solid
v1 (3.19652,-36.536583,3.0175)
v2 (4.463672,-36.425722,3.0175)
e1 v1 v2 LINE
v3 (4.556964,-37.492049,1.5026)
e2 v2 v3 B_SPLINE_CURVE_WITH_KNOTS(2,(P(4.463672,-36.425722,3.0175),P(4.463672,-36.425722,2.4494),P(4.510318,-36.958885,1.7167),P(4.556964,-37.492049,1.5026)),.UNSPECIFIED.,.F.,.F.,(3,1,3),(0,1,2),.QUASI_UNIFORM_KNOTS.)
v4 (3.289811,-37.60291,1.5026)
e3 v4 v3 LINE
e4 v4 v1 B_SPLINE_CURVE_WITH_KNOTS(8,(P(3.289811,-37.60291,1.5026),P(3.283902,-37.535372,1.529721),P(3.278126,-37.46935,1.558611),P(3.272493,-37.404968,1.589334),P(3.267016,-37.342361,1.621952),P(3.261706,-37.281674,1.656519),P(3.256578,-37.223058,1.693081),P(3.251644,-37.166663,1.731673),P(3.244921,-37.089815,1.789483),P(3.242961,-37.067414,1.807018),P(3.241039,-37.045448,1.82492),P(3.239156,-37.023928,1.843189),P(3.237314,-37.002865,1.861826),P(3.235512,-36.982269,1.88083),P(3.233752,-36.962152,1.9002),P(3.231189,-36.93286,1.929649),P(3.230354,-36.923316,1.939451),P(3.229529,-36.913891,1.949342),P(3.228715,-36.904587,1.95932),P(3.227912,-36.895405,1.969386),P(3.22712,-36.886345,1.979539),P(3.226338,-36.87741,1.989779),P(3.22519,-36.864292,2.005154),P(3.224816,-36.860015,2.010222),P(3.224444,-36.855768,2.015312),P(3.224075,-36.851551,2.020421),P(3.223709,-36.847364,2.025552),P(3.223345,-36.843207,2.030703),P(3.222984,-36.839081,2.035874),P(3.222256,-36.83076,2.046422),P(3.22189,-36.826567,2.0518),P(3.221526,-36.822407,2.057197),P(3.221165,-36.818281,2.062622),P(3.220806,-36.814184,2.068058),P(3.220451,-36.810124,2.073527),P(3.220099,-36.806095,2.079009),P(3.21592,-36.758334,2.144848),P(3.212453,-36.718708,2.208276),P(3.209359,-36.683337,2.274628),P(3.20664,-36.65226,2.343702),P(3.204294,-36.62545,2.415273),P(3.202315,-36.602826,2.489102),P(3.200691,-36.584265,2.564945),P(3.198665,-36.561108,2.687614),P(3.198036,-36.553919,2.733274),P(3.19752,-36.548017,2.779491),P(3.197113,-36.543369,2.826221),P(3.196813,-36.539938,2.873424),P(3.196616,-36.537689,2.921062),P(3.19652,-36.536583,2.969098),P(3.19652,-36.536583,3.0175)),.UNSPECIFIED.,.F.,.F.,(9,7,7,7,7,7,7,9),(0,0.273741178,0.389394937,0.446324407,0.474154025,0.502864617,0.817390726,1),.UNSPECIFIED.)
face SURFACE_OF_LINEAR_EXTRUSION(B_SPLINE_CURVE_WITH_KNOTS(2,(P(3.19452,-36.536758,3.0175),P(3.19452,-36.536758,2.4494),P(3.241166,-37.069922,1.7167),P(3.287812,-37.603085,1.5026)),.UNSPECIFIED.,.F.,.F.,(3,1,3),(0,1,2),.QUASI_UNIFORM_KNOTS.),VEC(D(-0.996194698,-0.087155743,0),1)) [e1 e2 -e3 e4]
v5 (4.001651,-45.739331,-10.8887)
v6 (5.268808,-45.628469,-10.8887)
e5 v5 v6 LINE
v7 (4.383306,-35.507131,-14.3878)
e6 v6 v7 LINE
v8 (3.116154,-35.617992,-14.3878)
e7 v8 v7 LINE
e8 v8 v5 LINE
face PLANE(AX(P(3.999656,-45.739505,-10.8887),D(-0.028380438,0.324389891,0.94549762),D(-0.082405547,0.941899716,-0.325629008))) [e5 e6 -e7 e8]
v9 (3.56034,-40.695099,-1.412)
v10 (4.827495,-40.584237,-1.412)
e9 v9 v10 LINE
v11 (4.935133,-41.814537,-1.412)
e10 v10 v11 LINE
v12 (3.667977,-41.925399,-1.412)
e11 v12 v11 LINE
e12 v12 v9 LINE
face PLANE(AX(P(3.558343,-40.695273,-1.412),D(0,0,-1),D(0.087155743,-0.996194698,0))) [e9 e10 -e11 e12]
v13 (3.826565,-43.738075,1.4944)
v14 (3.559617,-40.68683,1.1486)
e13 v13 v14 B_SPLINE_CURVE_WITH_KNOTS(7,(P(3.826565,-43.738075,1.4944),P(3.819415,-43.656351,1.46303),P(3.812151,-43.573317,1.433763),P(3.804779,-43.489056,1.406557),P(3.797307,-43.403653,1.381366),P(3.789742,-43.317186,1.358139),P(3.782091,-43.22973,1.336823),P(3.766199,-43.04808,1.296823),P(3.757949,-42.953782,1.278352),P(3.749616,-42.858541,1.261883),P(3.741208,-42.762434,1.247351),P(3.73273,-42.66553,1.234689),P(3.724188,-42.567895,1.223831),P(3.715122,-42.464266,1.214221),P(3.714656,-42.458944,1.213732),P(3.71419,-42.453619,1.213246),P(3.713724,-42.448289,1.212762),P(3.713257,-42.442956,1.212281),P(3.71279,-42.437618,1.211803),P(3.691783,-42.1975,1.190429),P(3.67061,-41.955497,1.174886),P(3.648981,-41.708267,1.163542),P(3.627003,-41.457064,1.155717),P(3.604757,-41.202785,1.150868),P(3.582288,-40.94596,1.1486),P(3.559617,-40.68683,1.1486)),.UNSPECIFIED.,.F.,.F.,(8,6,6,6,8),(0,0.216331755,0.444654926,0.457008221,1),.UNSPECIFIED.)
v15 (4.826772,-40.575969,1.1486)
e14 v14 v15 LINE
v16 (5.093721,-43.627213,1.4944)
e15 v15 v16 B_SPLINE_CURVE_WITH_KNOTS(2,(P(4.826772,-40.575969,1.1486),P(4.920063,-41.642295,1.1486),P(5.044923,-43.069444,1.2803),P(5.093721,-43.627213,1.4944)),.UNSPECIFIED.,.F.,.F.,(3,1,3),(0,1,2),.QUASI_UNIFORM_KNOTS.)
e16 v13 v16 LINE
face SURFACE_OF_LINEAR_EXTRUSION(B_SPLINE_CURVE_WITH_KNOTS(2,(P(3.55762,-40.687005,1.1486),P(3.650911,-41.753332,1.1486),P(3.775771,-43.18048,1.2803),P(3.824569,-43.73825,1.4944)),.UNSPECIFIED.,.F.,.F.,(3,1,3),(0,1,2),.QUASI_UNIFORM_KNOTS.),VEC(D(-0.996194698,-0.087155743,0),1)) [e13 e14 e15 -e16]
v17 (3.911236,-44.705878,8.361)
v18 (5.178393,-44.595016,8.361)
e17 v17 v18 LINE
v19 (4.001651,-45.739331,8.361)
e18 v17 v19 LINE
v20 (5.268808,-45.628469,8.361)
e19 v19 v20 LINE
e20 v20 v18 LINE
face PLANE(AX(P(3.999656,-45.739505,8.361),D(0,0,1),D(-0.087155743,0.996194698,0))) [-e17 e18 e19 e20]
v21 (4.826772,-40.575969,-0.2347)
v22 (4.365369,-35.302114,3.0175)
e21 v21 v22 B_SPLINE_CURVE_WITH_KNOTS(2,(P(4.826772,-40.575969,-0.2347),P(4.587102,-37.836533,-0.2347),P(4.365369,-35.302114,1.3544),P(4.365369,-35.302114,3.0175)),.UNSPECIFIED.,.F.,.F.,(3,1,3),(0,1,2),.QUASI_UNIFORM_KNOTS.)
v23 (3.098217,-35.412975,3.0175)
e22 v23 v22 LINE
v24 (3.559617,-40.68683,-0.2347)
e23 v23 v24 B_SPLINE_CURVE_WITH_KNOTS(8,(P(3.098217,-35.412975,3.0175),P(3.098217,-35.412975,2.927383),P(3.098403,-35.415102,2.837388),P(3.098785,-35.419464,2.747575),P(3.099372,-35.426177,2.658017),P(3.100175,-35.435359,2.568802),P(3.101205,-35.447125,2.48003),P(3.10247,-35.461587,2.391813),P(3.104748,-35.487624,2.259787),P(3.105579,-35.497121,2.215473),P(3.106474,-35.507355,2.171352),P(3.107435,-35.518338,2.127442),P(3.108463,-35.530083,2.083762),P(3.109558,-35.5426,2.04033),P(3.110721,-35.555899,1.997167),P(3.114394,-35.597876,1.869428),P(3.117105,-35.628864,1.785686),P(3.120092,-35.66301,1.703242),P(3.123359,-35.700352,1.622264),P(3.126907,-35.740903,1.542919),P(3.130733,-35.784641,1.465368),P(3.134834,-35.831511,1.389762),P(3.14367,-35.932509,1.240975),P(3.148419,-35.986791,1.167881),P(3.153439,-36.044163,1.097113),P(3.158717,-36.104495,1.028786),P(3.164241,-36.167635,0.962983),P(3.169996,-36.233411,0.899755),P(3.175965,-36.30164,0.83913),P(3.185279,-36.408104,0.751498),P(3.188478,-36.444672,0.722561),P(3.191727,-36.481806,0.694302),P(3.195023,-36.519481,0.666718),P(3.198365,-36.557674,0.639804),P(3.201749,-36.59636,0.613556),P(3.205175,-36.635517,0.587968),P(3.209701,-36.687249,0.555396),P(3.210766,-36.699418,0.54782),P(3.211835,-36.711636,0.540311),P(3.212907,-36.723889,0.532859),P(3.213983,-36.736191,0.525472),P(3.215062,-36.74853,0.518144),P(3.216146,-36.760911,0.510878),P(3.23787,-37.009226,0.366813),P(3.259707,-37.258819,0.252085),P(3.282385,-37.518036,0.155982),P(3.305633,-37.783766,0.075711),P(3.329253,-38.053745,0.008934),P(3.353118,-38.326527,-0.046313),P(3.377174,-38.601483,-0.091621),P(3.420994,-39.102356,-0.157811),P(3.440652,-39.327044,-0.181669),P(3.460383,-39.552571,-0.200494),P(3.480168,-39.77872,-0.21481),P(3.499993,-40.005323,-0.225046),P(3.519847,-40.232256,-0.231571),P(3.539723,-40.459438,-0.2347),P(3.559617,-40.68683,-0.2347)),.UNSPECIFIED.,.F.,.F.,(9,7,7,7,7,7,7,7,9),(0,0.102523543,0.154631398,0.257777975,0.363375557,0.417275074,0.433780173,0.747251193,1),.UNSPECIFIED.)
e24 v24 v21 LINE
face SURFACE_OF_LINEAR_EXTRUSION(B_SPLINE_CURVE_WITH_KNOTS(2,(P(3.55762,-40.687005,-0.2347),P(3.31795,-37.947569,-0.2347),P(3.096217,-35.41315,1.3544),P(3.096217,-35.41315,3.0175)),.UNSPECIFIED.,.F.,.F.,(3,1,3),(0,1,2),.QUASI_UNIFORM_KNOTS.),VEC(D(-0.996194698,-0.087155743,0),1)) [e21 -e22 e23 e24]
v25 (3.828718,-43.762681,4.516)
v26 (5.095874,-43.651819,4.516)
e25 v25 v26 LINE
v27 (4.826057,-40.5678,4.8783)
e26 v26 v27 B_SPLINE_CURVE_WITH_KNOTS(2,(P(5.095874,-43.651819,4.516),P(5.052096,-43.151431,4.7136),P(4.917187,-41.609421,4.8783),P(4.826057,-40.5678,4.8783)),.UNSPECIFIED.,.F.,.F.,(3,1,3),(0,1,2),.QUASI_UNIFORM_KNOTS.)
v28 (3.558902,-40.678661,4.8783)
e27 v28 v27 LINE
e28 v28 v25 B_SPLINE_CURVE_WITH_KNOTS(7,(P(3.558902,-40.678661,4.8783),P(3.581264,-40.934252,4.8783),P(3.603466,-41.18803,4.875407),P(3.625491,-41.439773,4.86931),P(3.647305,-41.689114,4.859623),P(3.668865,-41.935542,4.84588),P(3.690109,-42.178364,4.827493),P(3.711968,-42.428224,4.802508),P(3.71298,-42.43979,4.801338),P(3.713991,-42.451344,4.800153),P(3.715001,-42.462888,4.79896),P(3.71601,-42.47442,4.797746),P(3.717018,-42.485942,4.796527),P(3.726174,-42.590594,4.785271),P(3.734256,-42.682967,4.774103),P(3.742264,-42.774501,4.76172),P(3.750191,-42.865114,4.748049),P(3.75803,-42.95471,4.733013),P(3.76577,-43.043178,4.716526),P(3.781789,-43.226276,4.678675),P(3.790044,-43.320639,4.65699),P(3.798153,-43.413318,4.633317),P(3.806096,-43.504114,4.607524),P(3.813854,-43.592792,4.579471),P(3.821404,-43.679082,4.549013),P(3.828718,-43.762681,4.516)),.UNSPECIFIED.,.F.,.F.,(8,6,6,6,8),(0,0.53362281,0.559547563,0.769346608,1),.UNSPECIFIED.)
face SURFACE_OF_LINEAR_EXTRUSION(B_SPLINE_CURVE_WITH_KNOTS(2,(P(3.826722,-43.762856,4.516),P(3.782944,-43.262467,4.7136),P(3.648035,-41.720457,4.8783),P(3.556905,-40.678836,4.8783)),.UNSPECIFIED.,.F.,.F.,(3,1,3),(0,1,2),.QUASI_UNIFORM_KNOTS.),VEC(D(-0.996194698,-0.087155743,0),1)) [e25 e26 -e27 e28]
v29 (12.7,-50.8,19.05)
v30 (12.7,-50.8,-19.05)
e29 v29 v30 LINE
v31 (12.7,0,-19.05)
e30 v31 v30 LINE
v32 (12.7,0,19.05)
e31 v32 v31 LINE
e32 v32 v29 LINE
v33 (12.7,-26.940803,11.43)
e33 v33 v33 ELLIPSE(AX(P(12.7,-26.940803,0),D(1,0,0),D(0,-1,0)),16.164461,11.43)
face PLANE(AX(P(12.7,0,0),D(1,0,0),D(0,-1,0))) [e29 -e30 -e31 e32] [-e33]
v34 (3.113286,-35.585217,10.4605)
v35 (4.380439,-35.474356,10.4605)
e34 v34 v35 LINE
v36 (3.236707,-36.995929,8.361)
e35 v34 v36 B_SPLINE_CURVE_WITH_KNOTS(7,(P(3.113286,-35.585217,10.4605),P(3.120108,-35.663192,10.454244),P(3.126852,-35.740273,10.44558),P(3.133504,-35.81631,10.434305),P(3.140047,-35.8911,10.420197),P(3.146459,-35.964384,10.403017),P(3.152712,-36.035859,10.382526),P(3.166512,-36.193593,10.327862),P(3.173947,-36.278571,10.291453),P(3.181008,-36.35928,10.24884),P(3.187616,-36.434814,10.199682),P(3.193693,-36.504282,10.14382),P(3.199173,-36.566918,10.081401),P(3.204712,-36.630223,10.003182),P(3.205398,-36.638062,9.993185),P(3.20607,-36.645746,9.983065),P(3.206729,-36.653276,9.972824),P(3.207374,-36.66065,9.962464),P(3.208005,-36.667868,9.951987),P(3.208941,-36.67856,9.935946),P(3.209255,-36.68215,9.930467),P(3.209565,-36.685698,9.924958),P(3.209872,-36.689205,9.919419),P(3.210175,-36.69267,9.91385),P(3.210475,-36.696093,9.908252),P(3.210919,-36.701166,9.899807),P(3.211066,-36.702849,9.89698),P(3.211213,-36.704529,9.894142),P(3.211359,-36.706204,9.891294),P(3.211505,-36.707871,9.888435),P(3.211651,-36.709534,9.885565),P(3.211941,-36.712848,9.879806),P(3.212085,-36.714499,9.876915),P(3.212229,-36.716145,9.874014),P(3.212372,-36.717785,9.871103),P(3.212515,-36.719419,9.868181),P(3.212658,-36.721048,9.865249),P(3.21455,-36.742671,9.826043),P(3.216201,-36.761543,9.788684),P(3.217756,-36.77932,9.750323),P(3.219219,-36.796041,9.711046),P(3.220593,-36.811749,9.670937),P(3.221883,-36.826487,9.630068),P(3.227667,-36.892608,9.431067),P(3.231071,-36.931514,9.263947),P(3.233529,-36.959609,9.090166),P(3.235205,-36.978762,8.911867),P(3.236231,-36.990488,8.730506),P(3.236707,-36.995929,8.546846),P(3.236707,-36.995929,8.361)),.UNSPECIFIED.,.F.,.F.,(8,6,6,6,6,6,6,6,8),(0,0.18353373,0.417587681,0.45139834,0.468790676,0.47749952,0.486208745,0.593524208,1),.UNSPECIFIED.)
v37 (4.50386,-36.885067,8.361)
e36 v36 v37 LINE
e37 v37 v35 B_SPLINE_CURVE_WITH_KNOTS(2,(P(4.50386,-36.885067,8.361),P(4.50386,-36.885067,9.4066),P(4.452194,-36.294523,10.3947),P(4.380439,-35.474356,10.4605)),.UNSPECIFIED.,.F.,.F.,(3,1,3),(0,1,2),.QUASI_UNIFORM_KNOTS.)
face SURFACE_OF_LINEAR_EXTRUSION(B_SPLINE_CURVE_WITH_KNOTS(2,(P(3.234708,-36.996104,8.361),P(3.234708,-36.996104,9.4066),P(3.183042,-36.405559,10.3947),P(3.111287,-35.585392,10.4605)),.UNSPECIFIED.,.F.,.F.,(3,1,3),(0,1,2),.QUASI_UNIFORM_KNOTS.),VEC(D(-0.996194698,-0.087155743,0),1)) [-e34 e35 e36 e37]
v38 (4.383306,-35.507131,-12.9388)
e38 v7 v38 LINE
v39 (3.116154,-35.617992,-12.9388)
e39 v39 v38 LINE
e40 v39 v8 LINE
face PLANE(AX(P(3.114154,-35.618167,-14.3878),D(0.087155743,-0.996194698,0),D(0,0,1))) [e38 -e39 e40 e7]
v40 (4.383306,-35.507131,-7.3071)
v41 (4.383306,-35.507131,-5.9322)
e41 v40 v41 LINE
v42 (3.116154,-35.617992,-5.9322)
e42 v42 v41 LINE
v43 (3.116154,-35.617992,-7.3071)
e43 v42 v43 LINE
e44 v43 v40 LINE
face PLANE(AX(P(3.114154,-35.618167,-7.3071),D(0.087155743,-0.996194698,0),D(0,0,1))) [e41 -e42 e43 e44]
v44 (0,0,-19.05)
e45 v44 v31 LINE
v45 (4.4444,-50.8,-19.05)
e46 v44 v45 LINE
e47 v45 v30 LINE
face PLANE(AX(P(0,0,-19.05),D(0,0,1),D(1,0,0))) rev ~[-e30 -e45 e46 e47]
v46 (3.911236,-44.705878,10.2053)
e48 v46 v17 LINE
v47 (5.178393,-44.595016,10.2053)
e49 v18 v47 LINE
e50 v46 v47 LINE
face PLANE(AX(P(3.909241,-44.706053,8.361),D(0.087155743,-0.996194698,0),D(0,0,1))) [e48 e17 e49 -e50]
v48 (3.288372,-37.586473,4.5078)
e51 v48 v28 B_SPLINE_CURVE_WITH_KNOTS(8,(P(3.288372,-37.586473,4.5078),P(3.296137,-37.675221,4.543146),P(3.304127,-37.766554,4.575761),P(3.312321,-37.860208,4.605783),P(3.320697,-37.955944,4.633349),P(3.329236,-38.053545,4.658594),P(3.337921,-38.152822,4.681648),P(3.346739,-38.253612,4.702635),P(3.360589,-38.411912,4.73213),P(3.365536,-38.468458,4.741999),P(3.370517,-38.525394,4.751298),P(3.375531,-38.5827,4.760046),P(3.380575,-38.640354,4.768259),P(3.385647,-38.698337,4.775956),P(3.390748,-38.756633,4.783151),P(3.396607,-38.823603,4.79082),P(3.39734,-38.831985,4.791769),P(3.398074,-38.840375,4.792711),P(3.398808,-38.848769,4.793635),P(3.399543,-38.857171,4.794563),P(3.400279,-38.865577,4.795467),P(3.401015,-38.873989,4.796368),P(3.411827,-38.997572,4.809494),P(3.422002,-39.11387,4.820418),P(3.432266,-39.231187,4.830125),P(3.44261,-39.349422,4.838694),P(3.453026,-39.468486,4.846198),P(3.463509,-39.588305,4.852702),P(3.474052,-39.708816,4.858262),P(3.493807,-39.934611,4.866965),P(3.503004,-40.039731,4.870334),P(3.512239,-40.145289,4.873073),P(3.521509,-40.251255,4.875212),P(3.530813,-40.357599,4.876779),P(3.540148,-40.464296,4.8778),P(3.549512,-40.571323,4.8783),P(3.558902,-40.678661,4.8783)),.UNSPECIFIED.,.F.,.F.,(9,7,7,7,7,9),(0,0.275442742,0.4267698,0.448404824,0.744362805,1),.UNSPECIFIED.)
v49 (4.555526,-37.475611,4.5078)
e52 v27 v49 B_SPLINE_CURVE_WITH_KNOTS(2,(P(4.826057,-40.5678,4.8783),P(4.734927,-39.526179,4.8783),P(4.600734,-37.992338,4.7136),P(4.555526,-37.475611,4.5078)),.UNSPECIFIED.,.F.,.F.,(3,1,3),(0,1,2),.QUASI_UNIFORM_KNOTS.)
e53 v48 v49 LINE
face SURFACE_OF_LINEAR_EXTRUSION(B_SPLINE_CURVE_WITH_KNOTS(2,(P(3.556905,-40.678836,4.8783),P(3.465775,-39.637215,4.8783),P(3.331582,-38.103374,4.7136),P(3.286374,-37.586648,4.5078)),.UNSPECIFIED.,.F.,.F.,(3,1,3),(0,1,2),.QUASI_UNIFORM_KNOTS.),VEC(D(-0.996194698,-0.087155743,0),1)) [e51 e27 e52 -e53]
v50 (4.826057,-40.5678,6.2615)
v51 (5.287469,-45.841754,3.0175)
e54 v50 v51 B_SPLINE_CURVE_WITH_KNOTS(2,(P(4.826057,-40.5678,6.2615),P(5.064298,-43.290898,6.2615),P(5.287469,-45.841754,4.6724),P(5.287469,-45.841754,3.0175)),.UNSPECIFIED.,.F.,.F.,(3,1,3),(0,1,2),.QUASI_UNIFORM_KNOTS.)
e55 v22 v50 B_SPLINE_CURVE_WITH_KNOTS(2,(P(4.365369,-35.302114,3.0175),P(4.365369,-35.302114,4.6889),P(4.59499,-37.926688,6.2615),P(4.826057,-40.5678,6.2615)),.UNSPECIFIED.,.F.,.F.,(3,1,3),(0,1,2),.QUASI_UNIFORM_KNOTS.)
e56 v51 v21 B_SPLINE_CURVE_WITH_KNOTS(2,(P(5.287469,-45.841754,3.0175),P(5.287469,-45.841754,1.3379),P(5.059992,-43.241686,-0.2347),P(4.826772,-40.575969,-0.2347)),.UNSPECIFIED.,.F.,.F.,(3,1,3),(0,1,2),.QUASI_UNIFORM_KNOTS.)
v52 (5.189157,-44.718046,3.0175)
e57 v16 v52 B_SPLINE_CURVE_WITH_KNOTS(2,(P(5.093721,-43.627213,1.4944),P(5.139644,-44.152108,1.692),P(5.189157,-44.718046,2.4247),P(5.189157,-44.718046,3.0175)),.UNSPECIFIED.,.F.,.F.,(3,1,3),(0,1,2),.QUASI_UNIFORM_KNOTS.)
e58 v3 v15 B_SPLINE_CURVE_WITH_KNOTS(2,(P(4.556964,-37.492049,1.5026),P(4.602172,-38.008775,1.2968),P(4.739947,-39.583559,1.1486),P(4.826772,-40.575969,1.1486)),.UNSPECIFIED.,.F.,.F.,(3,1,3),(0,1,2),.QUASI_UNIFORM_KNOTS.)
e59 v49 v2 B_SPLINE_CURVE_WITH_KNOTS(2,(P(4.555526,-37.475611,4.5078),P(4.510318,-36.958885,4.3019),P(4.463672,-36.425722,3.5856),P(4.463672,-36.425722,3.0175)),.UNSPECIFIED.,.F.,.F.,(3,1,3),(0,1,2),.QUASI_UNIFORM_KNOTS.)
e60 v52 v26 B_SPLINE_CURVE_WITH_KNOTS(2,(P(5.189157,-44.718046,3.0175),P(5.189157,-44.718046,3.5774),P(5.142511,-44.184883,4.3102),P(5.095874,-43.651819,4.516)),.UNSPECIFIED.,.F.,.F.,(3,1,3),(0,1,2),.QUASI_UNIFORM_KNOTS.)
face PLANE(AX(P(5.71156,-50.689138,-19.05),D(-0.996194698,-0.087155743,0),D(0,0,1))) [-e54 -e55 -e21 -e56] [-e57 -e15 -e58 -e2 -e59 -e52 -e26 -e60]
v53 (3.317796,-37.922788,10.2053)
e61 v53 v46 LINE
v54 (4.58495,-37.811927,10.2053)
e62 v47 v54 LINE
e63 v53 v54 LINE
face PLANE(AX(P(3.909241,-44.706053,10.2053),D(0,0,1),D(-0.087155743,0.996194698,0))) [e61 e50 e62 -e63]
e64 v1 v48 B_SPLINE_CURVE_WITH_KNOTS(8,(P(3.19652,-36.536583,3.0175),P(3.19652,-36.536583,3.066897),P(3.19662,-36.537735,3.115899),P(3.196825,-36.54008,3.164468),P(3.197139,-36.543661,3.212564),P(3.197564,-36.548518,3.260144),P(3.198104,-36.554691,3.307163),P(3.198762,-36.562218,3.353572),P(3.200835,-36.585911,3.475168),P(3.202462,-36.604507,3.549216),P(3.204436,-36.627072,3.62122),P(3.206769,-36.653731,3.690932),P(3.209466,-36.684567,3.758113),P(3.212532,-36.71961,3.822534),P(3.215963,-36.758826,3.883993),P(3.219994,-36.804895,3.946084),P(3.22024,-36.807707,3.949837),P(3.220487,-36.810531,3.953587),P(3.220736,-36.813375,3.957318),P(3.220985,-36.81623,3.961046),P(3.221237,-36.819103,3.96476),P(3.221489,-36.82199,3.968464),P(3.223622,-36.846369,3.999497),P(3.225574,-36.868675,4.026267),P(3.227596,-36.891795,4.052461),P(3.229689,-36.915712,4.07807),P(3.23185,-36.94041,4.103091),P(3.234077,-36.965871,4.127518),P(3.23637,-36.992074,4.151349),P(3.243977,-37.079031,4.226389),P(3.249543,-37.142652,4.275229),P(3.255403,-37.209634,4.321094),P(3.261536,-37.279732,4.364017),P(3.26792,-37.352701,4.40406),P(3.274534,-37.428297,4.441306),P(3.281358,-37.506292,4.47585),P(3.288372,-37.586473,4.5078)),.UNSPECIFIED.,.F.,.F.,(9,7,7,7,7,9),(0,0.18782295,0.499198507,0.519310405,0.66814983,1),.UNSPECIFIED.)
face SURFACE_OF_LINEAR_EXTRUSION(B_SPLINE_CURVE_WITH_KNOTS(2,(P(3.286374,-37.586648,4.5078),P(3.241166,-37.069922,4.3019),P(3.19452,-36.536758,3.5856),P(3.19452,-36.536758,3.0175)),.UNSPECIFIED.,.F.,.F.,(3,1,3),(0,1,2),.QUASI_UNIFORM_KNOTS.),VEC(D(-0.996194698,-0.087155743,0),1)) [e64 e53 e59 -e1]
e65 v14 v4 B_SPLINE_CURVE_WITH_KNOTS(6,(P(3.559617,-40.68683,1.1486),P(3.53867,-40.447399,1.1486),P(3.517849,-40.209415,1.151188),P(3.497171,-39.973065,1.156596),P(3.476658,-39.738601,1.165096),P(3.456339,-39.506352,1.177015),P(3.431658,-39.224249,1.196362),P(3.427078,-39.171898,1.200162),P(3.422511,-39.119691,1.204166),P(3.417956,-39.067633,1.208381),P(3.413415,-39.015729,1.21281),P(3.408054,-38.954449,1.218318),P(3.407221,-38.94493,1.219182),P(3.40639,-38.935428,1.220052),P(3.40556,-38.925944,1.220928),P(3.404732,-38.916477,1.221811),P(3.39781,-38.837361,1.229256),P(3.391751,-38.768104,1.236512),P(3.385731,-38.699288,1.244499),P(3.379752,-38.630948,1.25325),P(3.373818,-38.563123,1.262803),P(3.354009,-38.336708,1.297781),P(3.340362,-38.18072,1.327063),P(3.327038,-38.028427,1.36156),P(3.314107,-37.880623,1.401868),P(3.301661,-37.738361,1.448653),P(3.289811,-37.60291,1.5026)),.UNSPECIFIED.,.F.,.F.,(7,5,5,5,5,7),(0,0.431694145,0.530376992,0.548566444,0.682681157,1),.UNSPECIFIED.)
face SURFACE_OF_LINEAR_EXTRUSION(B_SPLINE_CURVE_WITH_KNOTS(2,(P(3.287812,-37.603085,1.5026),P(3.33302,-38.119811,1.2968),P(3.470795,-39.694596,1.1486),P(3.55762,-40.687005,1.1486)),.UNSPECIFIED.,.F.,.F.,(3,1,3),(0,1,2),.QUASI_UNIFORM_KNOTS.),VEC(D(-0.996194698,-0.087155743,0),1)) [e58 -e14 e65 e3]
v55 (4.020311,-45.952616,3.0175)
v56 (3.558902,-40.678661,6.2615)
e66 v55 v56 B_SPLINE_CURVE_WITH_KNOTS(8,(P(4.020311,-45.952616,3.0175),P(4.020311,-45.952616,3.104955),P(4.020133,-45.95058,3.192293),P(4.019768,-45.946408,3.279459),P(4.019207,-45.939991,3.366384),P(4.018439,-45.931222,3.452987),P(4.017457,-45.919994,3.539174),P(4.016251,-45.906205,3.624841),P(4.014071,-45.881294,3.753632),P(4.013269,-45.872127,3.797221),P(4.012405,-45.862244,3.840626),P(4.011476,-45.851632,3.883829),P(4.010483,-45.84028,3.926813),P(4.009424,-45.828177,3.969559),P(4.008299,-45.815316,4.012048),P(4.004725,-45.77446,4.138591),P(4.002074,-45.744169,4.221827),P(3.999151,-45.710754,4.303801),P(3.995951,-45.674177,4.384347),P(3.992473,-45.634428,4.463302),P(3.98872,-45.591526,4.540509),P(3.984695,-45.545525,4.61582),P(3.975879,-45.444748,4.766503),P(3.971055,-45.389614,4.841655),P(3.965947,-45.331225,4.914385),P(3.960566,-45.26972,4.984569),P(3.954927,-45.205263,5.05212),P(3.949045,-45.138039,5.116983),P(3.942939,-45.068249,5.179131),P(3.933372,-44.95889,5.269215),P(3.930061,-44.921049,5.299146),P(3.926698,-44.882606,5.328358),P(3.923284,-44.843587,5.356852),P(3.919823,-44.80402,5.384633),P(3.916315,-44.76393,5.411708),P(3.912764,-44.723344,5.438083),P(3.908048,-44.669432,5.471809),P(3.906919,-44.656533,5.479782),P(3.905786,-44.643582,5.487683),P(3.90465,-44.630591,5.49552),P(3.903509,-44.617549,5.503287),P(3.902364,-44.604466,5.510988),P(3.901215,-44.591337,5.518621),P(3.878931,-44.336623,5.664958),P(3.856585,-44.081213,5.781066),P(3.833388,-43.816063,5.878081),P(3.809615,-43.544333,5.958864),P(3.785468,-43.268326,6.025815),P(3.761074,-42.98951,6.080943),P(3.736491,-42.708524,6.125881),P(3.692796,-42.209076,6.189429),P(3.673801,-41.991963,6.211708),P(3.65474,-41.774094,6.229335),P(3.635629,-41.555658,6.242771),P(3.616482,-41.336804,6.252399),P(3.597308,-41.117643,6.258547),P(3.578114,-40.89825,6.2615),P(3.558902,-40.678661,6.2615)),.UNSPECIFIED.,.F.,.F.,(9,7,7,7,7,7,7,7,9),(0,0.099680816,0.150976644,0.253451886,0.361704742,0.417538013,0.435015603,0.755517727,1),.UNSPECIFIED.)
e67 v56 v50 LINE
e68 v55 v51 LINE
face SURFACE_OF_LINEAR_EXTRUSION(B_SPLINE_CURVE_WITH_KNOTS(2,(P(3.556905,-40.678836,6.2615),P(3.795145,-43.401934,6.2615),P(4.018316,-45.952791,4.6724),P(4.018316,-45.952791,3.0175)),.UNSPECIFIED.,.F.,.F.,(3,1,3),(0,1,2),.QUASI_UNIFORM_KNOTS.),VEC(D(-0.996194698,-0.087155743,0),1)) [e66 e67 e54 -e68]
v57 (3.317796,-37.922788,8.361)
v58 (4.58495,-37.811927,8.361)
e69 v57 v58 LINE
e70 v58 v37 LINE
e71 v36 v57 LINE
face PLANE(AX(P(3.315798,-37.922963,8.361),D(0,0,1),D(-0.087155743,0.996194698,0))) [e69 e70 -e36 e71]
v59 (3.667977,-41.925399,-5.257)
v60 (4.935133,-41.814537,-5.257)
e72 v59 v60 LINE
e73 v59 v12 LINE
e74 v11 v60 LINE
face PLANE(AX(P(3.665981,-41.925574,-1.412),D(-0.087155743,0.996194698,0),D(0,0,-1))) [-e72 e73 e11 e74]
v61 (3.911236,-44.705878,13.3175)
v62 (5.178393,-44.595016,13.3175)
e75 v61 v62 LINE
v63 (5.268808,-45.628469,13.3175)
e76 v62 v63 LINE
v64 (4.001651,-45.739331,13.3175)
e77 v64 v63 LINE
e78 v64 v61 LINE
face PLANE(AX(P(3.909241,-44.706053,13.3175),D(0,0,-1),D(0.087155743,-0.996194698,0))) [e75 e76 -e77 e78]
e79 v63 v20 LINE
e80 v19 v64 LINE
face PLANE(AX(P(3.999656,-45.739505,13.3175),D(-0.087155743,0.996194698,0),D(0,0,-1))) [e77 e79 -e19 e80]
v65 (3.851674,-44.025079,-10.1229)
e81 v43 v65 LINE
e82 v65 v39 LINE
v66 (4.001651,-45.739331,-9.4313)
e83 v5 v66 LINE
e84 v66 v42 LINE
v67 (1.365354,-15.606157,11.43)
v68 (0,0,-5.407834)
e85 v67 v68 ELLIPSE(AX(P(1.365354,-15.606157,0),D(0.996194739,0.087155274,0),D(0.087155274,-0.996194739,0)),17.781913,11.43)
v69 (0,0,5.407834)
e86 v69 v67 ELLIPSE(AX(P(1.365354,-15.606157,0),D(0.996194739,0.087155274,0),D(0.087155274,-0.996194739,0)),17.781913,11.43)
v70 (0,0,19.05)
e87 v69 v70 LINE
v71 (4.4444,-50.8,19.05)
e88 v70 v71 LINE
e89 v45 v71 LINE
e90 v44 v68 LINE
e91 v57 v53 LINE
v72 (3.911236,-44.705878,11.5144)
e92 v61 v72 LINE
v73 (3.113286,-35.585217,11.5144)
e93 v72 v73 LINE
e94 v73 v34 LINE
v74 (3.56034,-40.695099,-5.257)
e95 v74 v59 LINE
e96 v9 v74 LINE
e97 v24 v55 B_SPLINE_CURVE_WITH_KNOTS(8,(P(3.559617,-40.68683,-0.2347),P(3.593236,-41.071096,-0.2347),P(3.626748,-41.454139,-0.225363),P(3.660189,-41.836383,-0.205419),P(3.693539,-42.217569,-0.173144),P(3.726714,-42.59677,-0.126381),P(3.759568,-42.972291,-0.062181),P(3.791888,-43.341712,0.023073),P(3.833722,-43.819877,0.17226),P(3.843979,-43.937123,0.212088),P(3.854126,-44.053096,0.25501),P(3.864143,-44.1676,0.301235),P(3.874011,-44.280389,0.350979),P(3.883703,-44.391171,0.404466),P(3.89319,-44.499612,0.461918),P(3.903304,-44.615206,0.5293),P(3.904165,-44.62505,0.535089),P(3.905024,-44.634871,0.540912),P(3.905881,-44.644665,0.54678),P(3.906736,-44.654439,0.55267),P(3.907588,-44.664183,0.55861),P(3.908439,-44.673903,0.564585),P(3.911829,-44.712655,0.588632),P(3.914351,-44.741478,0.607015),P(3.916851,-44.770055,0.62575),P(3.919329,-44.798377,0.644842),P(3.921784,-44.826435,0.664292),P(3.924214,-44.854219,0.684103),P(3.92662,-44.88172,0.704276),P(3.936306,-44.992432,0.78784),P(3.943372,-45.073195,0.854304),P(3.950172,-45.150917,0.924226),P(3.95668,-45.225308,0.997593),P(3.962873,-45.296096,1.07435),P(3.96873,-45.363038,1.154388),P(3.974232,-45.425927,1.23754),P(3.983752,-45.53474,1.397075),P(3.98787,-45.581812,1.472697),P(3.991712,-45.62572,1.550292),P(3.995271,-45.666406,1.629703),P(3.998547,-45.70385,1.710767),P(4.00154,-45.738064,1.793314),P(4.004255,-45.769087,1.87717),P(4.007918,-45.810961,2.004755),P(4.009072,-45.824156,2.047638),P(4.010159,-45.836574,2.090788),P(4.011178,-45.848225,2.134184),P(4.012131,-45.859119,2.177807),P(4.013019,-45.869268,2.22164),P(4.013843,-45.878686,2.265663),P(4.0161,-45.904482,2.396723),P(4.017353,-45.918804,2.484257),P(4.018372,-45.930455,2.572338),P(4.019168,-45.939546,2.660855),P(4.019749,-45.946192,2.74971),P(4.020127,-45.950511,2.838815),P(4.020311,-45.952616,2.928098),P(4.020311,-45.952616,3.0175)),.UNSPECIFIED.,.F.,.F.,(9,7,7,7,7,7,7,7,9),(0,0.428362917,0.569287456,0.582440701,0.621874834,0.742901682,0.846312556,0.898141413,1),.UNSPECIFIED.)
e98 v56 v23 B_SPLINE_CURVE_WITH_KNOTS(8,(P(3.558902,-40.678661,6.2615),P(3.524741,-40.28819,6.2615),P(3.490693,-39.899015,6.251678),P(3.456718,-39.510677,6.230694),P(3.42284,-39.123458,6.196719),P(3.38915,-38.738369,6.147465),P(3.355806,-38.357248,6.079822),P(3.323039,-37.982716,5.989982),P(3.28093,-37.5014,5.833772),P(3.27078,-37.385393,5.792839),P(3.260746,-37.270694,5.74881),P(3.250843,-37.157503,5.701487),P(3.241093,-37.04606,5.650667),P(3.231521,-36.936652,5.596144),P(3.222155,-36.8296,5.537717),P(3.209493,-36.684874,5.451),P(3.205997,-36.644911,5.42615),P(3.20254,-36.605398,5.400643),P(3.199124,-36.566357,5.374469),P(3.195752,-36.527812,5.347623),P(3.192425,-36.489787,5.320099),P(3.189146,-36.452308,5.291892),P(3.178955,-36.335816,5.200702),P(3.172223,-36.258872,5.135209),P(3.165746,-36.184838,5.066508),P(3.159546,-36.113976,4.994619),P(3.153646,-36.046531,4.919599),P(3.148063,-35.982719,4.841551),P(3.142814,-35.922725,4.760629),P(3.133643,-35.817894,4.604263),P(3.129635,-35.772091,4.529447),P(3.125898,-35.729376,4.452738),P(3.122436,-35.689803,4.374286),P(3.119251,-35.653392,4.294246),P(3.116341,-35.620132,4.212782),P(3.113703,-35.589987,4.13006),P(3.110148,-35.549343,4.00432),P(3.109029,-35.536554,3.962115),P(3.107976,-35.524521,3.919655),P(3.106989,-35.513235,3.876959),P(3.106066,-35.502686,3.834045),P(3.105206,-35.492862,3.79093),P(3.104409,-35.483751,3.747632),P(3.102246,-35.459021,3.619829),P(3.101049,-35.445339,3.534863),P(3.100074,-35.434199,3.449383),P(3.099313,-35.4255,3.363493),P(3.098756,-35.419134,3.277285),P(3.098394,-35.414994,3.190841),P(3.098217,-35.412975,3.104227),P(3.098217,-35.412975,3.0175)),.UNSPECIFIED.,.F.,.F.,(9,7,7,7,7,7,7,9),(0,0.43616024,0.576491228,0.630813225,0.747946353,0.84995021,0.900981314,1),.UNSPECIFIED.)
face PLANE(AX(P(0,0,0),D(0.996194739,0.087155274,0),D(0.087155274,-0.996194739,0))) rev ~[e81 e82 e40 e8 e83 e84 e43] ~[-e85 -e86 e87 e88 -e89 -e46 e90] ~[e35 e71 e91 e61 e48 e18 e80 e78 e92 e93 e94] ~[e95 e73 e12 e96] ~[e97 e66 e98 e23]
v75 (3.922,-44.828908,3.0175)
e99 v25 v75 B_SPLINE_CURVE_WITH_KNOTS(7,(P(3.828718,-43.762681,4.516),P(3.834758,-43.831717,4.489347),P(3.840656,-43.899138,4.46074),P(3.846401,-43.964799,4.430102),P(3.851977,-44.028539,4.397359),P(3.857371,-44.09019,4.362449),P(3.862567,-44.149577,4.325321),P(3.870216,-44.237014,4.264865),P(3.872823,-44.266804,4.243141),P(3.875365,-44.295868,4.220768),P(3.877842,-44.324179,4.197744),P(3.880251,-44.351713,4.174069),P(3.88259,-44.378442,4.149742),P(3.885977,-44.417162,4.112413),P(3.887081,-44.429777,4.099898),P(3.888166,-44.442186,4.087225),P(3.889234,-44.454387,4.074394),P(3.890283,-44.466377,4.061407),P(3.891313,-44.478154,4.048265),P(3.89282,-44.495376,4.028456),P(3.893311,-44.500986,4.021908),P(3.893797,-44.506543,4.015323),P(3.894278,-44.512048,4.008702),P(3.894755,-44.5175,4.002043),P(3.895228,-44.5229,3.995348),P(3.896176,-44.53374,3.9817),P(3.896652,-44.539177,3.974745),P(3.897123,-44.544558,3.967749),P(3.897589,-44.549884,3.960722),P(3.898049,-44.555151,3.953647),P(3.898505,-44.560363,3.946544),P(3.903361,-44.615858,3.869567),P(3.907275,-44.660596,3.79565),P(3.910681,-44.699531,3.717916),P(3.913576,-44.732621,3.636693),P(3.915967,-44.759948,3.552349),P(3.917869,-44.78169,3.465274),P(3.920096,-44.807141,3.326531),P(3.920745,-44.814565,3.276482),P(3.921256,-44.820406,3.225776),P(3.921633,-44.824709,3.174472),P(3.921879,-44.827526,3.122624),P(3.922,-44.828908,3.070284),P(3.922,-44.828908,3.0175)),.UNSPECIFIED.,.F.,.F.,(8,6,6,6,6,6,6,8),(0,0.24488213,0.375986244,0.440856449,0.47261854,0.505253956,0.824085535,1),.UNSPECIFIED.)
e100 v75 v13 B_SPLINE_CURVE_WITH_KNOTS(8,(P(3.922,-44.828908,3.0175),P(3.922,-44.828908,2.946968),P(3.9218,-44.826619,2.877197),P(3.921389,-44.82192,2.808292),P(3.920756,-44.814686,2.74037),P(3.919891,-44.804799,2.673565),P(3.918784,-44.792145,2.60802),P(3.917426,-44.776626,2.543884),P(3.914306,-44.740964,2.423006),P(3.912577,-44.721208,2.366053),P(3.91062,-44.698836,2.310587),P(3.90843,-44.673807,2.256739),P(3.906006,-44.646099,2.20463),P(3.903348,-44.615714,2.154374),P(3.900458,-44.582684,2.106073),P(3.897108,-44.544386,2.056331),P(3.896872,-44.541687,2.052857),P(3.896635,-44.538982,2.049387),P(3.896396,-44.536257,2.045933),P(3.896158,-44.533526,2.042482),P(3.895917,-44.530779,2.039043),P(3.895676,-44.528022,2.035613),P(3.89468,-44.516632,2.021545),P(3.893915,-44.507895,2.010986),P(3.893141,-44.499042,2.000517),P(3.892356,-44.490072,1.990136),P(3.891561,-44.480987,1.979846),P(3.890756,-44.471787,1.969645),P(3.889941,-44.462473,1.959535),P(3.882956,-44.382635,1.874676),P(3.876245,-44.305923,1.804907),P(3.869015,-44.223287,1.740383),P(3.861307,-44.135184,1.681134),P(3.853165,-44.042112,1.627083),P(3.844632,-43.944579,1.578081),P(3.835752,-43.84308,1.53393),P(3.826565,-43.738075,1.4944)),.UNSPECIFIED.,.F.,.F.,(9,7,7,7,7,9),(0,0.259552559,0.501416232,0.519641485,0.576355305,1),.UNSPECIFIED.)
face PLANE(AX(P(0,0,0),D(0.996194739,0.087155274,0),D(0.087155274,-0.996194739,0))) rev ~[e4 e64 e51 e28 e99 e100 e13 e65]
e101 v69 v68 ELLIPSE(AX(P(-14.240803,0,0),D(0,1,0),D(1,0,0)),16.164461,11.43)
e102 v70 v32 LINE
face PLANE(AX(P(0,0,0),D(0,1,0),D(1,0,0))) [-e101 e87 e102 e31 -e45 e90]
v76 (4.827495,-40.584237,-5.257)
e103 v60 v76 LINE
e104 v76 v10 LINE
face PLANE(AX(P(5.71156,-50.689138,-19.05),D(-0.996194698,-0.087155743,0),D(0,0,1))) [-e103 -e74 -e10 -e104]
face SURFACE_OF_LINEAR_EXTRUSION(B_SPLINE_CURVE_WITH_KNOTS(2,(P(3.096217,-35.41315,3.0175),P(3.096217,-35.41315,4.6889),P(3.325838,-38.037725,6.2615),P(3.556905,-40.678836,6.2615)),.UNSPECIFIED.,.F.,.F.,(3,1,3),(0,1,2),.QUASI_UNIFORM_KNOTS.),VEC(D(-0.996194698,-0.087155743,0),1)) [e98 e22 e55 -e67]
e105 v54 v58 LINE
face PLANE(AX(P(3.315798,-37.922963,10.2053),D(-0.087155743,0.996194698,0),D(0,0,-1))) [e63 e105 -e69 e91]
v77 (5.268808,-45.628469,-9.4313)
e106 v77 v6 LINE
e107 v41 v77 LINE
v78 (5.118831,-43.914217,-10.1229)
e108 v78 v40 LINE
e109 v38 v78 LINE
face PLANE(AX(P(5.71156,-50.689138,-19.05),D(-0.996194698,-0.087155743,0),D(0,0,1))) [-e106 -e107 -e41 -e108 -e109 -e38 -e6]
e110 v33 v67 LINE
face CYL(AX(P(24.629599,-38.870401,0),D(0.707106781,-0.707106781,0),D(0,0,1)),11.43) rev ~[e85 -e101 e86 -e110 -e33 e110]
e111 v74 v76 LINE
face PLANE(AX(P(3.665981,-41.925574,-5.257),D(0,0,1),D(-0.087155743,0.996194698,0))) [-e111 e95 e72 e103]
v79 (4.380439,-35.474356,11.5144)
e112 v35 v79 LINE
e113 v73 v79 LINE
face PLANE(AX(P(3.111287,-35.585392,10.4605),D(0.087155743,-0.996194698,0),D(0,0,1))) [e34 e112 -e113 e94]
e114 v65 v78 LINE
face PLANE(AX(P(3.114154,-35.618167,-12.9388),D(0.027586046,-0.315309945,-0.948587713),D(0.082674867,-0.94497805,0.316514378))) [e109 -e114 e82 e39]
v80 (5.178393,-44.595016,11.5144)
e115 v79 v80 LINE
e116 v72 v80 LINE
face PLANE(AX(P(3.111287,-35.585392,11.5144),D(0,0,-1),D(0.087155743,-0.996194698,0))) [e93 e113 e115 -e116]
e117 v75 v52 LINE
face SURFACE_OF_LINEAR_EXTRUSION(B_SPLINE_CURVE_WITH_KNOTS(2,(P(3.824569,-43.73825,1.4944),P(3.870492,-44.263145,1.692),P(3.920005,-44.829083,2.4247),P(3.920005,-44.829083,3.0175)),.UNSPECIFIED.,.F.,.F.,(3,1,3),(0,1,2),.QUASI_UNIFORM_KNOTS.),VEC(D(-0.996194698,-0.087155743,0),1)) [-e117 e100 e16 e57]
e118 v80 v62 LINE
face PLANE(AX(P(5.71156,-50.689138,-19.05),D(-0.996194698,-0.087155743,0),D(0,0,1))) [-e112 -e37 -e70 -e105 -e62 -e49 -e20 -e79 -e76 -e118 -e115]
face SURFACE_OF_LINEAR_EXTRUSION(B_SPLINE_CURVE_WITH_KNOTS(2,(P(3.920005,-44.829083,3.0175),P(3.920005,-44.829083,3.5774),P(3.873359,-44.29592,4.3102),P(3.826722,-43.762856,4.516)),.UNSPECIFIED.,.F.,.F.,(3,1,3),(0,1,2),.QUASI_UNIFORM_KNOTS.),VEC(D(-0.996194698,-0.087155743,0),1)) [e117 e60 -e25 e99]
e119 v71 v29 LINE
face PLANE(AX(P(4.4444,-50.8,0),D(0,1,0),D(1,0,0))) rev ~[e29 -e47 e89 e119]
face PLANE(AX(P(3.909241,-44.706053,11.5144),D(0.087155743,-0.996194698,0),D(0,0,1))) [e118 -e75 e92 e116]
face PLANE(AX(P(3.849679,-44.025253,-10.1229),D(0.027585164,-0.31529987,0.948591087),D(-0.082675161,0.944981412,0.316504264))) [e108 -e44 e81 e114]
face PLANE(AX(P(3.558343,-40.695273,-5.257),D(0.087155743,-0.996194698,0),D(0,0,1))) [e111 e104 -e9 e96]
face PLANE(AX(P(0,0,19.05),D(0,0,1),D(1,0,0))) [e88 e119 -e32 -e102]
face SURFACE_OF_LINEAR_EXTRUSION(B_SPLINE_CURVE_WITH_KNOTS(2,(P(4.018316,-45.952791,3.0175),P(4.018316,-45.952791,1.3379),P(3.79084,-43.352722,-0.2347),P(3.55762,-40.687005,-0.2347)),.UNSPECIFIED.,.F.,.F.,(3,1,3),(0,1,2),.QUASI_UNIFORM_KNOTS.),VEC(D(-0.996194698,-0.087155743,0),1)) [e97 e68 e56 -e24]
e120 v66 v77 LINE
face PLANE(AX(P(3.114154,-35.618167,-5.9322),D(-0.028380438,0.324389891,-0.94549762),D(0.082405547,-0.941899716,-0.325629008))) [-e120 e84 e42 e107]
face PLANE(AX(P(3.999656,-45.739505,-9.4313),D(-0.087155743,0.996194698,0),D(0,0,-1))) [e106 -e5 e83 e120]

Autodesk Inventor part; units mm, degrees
ref_plane "YZ Plane" through (0, 0, 0) normal (1, 0, 0) x (0, 1, 0)
ref_plane "XZ Plane" through (0, 0, 0) normal (0, 1, 0) x (-1, 0, 0)
sketch "Sketch1" plane through (0, 0, 0) normal (0, 0, 1) x (1, 0, 0)
  line L0 (0, 0) -> (4.4444, -50.8)
  line L1 (0, -76.2) -> (0, 12.7) projected
  line L2 (0, 0) -> (12.7, 0)
  line L3 (12.7, 0) -> (12.7, -50.8)
  line L4 (4.4444, -50.8) -> (12.7, -50.8)
  dimension "d0" = 5
  dimension "d1" = 12.7
  dimension "d3" = 50.8
extrude "Extrusion1" add sketch "Sketch1" along normal mid plane 38.1
ref_plane "Work Plane1" through (12.7, -50.8, 0) normal (0.7071, -0.7071, 0) x (0, 0, 1)
sketch "Sketch2" plane through (12.7, -50.8, 0) normal (0.7071, -0.7071, 0) x (0, 0, 1)
  line L0 (19.05, 0) -> (19.05, -35.921) projected
  line L1 (19.05, -35.921) -> (-19.05, -35.921) projected
  line L2 (-19.05, -35.921) -> (-19.05, 0) projected
  line L3 (-19.05, 0) -> (19.05, 0) projected
  circle A0 centre (0, -16.871) radius 11.43
  point P0 (0, -26.9408)
  dimension "d7" = 22.86
  dimension "d10" = 19.05
extrude "Extrusion2" cut sketch "Sketch2" against normal through all contours A0
sketch "Sketch3" plane through (4.4444, -50.8, -19.05) normal (-0.9962, -0.0872, 0) x (0, 0, 1)
  line L0 (0, 0) -> (0, 50.994) construction
  line L1 (0, 10.16) -> (38.1, 10.16) construction
  line L2 (38.1, 50.994) -> (38.1, 0) construction
  line L3 (0, 0) -> (38.1, 0) construction
  line L4 (13.1178, 15.24) -> (9.6187, 5.08)
  line L5 (9.6187, 5.08) -> (8.1613, 5.08)
  line L6 (8.1613, 5.08) -> (4.6622, 15.24)
  line L7 (4.6622, 15.24) -> (6.1112, 15.24)
  line L8 (6.1112, 15.24) -> (8.9271, 6.8008)
  line L9 (8.9271, 6.8008) -> (11.7429, 15.24)
  line L10 (11.7429, 15.24) -> (13.1178, 15.24)
  line L11 (17.638, 8.9085) -> (13.793, 8.9085)
  line L12 (13.793, 8.9085) -> (13.793, 10.1435)
  line L13 (13.793, 10.1435) -> (17.638, 10.1435)
  line L14 (17.638, 10.1435) -> (17.638, 8.9085)
  spline S0 degree 2 poles (25.3115, 10.16) (25.3115, 7.4265) (23.7224, 4.8659) (22.0675, 4.8659) knots 0 0 0 1 2 2 2
  spline S1 degree 2 poles (22.0675, 4.8659) (20.3879, 4.8659) (18.8153, 7.4759) (18.8153, 10.1518) knots 0 0 0 1 2 2 2
  spline S2 degree 2 poles (18.8153, 10.1518) (18.8153, 12.9017) (20.4044, 15.4458) (22.0675, 15.4458) knots 0 0 0 1 2 2 2
  spline S3 degree 2 poles (22.0675, 15.4458) (23.7389, 15.4458) (25.3115, 12.8112) (25.3115, 10.16) knots 0 0 0 1 2 2 2
  spline S4 degree 2 poles (23.566, 7.0642) (23.7636, 7.5665) (23.9283, 9.1144) (23.9283, 10.16) knots 0 0 0 1 2 2 2
  spline S5 degree 2 poles (23.9283, 10.16) (23.9283, 11.2056) (23.7636, 12.7453) (23.5578, 13.264) knots 0 0 0 1 2 2 2
  spline S6 degree 2 poles (23.5578, 13.264) (23.3519, 13.7827) (22.6356, 14.3179) (22.0675, 14.3179) knots 0 0 0 1 2 2 2
  spline S7 degree 2 poles (22.0675, 14.3179) (21.4994, 14.3179) (20.7667, 13.7827) (20.5526, 13.2475) knots 0 0 0 1 2 2 2
  spline S8 degree 2 poles (20.5526, 13.2475) (20.3468, 12.7288) (20.1986, 11.148) (20.1986, 10.1518) knots 0 0 0 1 2 2 2
  spline S9 degree 2 poles (20.1986, 10.1518) (20.1986, 9.0814) (20.3303, 7.6488) (20.5444, 7.0889) knots 0 0 0 1 2 2 2
  spline S10 degree 2 poles (20.5444, 7.0889) (20.742, 6.562) (21.4747, 5.9939) (22.0675, 5.9939) knots 0 0 0 1 2 2 2
  spline S11 degree 2 poles (22.0675, 5.9939) (22.6274, 5.9939) (23.3602, 6.5291) (23.566, 7.0642) knots 0 0 0 1 2 2 2
  line L15 (32.3675, 5.08) -> (27.411, 5.08)
  line L16 (27.411, 5.08) -> (27.411, 6.1174)
  line L17 (27.411, 6.1174) -> (29.2553, 6.1174)
  line L18 (29.2553, 6.1174) -> (29.2553, 12.9264)
  line L19 (29.2553, 12.9264) -> (27.411, 12.9264)
  line L20 (27.411, 12.9264) -> (27.411, 13.8568)
  spline S12 degree 2 poles (27.411, 13.8568) (28.4566, 13.8568) (29.4447, 14.4496) (29.5105, 15.2729) knots 0 0 0 1 2 2 2
  line L21 (29.5105, 15.2729) -> (30.5644, 15.2729)
  line L22 (30.5644, 15.2729) -> (30.5644, 6.1174)
  line L23 (30.5644, 6.1174) -> (32.3675, 6.1174)
  line L24 (32.3675, 6.1174) -> (32.3675, 5.08)
  point P0 (19.05, 50.994)
  dimension "d12" = 10.16
extrude "Extrusion3" cut sketch "Sketch3" against normal blind 1.27
equation "\"d0\" = backAngle"
equation "\"d1\" = topPartDepth"
equation "\"d3\" = partHeight"
equation "\"d4\" = partWidth"
equation "\"d7\" = pipeExteriorDiameter"
equation "\"d10\" = pipeCenter"
equation "\"d13\" = textDepth"
equation "\"topPartDepth\" = 12.7"
equation "\"backAngle\" = 5deg"
equation "\"partHeight\" = 50.8"
equation "\"partWidth\" = 38.1"
equation "\"pipeExteriorDiameter\" = 22.86"
equation "\"pipeCenter\" = 19.05"
equation "\"filletEdge\" = 1.05833"
equation "\"textDepth\" = 1.27"
properties part number "waterHeaterVent-V01"
